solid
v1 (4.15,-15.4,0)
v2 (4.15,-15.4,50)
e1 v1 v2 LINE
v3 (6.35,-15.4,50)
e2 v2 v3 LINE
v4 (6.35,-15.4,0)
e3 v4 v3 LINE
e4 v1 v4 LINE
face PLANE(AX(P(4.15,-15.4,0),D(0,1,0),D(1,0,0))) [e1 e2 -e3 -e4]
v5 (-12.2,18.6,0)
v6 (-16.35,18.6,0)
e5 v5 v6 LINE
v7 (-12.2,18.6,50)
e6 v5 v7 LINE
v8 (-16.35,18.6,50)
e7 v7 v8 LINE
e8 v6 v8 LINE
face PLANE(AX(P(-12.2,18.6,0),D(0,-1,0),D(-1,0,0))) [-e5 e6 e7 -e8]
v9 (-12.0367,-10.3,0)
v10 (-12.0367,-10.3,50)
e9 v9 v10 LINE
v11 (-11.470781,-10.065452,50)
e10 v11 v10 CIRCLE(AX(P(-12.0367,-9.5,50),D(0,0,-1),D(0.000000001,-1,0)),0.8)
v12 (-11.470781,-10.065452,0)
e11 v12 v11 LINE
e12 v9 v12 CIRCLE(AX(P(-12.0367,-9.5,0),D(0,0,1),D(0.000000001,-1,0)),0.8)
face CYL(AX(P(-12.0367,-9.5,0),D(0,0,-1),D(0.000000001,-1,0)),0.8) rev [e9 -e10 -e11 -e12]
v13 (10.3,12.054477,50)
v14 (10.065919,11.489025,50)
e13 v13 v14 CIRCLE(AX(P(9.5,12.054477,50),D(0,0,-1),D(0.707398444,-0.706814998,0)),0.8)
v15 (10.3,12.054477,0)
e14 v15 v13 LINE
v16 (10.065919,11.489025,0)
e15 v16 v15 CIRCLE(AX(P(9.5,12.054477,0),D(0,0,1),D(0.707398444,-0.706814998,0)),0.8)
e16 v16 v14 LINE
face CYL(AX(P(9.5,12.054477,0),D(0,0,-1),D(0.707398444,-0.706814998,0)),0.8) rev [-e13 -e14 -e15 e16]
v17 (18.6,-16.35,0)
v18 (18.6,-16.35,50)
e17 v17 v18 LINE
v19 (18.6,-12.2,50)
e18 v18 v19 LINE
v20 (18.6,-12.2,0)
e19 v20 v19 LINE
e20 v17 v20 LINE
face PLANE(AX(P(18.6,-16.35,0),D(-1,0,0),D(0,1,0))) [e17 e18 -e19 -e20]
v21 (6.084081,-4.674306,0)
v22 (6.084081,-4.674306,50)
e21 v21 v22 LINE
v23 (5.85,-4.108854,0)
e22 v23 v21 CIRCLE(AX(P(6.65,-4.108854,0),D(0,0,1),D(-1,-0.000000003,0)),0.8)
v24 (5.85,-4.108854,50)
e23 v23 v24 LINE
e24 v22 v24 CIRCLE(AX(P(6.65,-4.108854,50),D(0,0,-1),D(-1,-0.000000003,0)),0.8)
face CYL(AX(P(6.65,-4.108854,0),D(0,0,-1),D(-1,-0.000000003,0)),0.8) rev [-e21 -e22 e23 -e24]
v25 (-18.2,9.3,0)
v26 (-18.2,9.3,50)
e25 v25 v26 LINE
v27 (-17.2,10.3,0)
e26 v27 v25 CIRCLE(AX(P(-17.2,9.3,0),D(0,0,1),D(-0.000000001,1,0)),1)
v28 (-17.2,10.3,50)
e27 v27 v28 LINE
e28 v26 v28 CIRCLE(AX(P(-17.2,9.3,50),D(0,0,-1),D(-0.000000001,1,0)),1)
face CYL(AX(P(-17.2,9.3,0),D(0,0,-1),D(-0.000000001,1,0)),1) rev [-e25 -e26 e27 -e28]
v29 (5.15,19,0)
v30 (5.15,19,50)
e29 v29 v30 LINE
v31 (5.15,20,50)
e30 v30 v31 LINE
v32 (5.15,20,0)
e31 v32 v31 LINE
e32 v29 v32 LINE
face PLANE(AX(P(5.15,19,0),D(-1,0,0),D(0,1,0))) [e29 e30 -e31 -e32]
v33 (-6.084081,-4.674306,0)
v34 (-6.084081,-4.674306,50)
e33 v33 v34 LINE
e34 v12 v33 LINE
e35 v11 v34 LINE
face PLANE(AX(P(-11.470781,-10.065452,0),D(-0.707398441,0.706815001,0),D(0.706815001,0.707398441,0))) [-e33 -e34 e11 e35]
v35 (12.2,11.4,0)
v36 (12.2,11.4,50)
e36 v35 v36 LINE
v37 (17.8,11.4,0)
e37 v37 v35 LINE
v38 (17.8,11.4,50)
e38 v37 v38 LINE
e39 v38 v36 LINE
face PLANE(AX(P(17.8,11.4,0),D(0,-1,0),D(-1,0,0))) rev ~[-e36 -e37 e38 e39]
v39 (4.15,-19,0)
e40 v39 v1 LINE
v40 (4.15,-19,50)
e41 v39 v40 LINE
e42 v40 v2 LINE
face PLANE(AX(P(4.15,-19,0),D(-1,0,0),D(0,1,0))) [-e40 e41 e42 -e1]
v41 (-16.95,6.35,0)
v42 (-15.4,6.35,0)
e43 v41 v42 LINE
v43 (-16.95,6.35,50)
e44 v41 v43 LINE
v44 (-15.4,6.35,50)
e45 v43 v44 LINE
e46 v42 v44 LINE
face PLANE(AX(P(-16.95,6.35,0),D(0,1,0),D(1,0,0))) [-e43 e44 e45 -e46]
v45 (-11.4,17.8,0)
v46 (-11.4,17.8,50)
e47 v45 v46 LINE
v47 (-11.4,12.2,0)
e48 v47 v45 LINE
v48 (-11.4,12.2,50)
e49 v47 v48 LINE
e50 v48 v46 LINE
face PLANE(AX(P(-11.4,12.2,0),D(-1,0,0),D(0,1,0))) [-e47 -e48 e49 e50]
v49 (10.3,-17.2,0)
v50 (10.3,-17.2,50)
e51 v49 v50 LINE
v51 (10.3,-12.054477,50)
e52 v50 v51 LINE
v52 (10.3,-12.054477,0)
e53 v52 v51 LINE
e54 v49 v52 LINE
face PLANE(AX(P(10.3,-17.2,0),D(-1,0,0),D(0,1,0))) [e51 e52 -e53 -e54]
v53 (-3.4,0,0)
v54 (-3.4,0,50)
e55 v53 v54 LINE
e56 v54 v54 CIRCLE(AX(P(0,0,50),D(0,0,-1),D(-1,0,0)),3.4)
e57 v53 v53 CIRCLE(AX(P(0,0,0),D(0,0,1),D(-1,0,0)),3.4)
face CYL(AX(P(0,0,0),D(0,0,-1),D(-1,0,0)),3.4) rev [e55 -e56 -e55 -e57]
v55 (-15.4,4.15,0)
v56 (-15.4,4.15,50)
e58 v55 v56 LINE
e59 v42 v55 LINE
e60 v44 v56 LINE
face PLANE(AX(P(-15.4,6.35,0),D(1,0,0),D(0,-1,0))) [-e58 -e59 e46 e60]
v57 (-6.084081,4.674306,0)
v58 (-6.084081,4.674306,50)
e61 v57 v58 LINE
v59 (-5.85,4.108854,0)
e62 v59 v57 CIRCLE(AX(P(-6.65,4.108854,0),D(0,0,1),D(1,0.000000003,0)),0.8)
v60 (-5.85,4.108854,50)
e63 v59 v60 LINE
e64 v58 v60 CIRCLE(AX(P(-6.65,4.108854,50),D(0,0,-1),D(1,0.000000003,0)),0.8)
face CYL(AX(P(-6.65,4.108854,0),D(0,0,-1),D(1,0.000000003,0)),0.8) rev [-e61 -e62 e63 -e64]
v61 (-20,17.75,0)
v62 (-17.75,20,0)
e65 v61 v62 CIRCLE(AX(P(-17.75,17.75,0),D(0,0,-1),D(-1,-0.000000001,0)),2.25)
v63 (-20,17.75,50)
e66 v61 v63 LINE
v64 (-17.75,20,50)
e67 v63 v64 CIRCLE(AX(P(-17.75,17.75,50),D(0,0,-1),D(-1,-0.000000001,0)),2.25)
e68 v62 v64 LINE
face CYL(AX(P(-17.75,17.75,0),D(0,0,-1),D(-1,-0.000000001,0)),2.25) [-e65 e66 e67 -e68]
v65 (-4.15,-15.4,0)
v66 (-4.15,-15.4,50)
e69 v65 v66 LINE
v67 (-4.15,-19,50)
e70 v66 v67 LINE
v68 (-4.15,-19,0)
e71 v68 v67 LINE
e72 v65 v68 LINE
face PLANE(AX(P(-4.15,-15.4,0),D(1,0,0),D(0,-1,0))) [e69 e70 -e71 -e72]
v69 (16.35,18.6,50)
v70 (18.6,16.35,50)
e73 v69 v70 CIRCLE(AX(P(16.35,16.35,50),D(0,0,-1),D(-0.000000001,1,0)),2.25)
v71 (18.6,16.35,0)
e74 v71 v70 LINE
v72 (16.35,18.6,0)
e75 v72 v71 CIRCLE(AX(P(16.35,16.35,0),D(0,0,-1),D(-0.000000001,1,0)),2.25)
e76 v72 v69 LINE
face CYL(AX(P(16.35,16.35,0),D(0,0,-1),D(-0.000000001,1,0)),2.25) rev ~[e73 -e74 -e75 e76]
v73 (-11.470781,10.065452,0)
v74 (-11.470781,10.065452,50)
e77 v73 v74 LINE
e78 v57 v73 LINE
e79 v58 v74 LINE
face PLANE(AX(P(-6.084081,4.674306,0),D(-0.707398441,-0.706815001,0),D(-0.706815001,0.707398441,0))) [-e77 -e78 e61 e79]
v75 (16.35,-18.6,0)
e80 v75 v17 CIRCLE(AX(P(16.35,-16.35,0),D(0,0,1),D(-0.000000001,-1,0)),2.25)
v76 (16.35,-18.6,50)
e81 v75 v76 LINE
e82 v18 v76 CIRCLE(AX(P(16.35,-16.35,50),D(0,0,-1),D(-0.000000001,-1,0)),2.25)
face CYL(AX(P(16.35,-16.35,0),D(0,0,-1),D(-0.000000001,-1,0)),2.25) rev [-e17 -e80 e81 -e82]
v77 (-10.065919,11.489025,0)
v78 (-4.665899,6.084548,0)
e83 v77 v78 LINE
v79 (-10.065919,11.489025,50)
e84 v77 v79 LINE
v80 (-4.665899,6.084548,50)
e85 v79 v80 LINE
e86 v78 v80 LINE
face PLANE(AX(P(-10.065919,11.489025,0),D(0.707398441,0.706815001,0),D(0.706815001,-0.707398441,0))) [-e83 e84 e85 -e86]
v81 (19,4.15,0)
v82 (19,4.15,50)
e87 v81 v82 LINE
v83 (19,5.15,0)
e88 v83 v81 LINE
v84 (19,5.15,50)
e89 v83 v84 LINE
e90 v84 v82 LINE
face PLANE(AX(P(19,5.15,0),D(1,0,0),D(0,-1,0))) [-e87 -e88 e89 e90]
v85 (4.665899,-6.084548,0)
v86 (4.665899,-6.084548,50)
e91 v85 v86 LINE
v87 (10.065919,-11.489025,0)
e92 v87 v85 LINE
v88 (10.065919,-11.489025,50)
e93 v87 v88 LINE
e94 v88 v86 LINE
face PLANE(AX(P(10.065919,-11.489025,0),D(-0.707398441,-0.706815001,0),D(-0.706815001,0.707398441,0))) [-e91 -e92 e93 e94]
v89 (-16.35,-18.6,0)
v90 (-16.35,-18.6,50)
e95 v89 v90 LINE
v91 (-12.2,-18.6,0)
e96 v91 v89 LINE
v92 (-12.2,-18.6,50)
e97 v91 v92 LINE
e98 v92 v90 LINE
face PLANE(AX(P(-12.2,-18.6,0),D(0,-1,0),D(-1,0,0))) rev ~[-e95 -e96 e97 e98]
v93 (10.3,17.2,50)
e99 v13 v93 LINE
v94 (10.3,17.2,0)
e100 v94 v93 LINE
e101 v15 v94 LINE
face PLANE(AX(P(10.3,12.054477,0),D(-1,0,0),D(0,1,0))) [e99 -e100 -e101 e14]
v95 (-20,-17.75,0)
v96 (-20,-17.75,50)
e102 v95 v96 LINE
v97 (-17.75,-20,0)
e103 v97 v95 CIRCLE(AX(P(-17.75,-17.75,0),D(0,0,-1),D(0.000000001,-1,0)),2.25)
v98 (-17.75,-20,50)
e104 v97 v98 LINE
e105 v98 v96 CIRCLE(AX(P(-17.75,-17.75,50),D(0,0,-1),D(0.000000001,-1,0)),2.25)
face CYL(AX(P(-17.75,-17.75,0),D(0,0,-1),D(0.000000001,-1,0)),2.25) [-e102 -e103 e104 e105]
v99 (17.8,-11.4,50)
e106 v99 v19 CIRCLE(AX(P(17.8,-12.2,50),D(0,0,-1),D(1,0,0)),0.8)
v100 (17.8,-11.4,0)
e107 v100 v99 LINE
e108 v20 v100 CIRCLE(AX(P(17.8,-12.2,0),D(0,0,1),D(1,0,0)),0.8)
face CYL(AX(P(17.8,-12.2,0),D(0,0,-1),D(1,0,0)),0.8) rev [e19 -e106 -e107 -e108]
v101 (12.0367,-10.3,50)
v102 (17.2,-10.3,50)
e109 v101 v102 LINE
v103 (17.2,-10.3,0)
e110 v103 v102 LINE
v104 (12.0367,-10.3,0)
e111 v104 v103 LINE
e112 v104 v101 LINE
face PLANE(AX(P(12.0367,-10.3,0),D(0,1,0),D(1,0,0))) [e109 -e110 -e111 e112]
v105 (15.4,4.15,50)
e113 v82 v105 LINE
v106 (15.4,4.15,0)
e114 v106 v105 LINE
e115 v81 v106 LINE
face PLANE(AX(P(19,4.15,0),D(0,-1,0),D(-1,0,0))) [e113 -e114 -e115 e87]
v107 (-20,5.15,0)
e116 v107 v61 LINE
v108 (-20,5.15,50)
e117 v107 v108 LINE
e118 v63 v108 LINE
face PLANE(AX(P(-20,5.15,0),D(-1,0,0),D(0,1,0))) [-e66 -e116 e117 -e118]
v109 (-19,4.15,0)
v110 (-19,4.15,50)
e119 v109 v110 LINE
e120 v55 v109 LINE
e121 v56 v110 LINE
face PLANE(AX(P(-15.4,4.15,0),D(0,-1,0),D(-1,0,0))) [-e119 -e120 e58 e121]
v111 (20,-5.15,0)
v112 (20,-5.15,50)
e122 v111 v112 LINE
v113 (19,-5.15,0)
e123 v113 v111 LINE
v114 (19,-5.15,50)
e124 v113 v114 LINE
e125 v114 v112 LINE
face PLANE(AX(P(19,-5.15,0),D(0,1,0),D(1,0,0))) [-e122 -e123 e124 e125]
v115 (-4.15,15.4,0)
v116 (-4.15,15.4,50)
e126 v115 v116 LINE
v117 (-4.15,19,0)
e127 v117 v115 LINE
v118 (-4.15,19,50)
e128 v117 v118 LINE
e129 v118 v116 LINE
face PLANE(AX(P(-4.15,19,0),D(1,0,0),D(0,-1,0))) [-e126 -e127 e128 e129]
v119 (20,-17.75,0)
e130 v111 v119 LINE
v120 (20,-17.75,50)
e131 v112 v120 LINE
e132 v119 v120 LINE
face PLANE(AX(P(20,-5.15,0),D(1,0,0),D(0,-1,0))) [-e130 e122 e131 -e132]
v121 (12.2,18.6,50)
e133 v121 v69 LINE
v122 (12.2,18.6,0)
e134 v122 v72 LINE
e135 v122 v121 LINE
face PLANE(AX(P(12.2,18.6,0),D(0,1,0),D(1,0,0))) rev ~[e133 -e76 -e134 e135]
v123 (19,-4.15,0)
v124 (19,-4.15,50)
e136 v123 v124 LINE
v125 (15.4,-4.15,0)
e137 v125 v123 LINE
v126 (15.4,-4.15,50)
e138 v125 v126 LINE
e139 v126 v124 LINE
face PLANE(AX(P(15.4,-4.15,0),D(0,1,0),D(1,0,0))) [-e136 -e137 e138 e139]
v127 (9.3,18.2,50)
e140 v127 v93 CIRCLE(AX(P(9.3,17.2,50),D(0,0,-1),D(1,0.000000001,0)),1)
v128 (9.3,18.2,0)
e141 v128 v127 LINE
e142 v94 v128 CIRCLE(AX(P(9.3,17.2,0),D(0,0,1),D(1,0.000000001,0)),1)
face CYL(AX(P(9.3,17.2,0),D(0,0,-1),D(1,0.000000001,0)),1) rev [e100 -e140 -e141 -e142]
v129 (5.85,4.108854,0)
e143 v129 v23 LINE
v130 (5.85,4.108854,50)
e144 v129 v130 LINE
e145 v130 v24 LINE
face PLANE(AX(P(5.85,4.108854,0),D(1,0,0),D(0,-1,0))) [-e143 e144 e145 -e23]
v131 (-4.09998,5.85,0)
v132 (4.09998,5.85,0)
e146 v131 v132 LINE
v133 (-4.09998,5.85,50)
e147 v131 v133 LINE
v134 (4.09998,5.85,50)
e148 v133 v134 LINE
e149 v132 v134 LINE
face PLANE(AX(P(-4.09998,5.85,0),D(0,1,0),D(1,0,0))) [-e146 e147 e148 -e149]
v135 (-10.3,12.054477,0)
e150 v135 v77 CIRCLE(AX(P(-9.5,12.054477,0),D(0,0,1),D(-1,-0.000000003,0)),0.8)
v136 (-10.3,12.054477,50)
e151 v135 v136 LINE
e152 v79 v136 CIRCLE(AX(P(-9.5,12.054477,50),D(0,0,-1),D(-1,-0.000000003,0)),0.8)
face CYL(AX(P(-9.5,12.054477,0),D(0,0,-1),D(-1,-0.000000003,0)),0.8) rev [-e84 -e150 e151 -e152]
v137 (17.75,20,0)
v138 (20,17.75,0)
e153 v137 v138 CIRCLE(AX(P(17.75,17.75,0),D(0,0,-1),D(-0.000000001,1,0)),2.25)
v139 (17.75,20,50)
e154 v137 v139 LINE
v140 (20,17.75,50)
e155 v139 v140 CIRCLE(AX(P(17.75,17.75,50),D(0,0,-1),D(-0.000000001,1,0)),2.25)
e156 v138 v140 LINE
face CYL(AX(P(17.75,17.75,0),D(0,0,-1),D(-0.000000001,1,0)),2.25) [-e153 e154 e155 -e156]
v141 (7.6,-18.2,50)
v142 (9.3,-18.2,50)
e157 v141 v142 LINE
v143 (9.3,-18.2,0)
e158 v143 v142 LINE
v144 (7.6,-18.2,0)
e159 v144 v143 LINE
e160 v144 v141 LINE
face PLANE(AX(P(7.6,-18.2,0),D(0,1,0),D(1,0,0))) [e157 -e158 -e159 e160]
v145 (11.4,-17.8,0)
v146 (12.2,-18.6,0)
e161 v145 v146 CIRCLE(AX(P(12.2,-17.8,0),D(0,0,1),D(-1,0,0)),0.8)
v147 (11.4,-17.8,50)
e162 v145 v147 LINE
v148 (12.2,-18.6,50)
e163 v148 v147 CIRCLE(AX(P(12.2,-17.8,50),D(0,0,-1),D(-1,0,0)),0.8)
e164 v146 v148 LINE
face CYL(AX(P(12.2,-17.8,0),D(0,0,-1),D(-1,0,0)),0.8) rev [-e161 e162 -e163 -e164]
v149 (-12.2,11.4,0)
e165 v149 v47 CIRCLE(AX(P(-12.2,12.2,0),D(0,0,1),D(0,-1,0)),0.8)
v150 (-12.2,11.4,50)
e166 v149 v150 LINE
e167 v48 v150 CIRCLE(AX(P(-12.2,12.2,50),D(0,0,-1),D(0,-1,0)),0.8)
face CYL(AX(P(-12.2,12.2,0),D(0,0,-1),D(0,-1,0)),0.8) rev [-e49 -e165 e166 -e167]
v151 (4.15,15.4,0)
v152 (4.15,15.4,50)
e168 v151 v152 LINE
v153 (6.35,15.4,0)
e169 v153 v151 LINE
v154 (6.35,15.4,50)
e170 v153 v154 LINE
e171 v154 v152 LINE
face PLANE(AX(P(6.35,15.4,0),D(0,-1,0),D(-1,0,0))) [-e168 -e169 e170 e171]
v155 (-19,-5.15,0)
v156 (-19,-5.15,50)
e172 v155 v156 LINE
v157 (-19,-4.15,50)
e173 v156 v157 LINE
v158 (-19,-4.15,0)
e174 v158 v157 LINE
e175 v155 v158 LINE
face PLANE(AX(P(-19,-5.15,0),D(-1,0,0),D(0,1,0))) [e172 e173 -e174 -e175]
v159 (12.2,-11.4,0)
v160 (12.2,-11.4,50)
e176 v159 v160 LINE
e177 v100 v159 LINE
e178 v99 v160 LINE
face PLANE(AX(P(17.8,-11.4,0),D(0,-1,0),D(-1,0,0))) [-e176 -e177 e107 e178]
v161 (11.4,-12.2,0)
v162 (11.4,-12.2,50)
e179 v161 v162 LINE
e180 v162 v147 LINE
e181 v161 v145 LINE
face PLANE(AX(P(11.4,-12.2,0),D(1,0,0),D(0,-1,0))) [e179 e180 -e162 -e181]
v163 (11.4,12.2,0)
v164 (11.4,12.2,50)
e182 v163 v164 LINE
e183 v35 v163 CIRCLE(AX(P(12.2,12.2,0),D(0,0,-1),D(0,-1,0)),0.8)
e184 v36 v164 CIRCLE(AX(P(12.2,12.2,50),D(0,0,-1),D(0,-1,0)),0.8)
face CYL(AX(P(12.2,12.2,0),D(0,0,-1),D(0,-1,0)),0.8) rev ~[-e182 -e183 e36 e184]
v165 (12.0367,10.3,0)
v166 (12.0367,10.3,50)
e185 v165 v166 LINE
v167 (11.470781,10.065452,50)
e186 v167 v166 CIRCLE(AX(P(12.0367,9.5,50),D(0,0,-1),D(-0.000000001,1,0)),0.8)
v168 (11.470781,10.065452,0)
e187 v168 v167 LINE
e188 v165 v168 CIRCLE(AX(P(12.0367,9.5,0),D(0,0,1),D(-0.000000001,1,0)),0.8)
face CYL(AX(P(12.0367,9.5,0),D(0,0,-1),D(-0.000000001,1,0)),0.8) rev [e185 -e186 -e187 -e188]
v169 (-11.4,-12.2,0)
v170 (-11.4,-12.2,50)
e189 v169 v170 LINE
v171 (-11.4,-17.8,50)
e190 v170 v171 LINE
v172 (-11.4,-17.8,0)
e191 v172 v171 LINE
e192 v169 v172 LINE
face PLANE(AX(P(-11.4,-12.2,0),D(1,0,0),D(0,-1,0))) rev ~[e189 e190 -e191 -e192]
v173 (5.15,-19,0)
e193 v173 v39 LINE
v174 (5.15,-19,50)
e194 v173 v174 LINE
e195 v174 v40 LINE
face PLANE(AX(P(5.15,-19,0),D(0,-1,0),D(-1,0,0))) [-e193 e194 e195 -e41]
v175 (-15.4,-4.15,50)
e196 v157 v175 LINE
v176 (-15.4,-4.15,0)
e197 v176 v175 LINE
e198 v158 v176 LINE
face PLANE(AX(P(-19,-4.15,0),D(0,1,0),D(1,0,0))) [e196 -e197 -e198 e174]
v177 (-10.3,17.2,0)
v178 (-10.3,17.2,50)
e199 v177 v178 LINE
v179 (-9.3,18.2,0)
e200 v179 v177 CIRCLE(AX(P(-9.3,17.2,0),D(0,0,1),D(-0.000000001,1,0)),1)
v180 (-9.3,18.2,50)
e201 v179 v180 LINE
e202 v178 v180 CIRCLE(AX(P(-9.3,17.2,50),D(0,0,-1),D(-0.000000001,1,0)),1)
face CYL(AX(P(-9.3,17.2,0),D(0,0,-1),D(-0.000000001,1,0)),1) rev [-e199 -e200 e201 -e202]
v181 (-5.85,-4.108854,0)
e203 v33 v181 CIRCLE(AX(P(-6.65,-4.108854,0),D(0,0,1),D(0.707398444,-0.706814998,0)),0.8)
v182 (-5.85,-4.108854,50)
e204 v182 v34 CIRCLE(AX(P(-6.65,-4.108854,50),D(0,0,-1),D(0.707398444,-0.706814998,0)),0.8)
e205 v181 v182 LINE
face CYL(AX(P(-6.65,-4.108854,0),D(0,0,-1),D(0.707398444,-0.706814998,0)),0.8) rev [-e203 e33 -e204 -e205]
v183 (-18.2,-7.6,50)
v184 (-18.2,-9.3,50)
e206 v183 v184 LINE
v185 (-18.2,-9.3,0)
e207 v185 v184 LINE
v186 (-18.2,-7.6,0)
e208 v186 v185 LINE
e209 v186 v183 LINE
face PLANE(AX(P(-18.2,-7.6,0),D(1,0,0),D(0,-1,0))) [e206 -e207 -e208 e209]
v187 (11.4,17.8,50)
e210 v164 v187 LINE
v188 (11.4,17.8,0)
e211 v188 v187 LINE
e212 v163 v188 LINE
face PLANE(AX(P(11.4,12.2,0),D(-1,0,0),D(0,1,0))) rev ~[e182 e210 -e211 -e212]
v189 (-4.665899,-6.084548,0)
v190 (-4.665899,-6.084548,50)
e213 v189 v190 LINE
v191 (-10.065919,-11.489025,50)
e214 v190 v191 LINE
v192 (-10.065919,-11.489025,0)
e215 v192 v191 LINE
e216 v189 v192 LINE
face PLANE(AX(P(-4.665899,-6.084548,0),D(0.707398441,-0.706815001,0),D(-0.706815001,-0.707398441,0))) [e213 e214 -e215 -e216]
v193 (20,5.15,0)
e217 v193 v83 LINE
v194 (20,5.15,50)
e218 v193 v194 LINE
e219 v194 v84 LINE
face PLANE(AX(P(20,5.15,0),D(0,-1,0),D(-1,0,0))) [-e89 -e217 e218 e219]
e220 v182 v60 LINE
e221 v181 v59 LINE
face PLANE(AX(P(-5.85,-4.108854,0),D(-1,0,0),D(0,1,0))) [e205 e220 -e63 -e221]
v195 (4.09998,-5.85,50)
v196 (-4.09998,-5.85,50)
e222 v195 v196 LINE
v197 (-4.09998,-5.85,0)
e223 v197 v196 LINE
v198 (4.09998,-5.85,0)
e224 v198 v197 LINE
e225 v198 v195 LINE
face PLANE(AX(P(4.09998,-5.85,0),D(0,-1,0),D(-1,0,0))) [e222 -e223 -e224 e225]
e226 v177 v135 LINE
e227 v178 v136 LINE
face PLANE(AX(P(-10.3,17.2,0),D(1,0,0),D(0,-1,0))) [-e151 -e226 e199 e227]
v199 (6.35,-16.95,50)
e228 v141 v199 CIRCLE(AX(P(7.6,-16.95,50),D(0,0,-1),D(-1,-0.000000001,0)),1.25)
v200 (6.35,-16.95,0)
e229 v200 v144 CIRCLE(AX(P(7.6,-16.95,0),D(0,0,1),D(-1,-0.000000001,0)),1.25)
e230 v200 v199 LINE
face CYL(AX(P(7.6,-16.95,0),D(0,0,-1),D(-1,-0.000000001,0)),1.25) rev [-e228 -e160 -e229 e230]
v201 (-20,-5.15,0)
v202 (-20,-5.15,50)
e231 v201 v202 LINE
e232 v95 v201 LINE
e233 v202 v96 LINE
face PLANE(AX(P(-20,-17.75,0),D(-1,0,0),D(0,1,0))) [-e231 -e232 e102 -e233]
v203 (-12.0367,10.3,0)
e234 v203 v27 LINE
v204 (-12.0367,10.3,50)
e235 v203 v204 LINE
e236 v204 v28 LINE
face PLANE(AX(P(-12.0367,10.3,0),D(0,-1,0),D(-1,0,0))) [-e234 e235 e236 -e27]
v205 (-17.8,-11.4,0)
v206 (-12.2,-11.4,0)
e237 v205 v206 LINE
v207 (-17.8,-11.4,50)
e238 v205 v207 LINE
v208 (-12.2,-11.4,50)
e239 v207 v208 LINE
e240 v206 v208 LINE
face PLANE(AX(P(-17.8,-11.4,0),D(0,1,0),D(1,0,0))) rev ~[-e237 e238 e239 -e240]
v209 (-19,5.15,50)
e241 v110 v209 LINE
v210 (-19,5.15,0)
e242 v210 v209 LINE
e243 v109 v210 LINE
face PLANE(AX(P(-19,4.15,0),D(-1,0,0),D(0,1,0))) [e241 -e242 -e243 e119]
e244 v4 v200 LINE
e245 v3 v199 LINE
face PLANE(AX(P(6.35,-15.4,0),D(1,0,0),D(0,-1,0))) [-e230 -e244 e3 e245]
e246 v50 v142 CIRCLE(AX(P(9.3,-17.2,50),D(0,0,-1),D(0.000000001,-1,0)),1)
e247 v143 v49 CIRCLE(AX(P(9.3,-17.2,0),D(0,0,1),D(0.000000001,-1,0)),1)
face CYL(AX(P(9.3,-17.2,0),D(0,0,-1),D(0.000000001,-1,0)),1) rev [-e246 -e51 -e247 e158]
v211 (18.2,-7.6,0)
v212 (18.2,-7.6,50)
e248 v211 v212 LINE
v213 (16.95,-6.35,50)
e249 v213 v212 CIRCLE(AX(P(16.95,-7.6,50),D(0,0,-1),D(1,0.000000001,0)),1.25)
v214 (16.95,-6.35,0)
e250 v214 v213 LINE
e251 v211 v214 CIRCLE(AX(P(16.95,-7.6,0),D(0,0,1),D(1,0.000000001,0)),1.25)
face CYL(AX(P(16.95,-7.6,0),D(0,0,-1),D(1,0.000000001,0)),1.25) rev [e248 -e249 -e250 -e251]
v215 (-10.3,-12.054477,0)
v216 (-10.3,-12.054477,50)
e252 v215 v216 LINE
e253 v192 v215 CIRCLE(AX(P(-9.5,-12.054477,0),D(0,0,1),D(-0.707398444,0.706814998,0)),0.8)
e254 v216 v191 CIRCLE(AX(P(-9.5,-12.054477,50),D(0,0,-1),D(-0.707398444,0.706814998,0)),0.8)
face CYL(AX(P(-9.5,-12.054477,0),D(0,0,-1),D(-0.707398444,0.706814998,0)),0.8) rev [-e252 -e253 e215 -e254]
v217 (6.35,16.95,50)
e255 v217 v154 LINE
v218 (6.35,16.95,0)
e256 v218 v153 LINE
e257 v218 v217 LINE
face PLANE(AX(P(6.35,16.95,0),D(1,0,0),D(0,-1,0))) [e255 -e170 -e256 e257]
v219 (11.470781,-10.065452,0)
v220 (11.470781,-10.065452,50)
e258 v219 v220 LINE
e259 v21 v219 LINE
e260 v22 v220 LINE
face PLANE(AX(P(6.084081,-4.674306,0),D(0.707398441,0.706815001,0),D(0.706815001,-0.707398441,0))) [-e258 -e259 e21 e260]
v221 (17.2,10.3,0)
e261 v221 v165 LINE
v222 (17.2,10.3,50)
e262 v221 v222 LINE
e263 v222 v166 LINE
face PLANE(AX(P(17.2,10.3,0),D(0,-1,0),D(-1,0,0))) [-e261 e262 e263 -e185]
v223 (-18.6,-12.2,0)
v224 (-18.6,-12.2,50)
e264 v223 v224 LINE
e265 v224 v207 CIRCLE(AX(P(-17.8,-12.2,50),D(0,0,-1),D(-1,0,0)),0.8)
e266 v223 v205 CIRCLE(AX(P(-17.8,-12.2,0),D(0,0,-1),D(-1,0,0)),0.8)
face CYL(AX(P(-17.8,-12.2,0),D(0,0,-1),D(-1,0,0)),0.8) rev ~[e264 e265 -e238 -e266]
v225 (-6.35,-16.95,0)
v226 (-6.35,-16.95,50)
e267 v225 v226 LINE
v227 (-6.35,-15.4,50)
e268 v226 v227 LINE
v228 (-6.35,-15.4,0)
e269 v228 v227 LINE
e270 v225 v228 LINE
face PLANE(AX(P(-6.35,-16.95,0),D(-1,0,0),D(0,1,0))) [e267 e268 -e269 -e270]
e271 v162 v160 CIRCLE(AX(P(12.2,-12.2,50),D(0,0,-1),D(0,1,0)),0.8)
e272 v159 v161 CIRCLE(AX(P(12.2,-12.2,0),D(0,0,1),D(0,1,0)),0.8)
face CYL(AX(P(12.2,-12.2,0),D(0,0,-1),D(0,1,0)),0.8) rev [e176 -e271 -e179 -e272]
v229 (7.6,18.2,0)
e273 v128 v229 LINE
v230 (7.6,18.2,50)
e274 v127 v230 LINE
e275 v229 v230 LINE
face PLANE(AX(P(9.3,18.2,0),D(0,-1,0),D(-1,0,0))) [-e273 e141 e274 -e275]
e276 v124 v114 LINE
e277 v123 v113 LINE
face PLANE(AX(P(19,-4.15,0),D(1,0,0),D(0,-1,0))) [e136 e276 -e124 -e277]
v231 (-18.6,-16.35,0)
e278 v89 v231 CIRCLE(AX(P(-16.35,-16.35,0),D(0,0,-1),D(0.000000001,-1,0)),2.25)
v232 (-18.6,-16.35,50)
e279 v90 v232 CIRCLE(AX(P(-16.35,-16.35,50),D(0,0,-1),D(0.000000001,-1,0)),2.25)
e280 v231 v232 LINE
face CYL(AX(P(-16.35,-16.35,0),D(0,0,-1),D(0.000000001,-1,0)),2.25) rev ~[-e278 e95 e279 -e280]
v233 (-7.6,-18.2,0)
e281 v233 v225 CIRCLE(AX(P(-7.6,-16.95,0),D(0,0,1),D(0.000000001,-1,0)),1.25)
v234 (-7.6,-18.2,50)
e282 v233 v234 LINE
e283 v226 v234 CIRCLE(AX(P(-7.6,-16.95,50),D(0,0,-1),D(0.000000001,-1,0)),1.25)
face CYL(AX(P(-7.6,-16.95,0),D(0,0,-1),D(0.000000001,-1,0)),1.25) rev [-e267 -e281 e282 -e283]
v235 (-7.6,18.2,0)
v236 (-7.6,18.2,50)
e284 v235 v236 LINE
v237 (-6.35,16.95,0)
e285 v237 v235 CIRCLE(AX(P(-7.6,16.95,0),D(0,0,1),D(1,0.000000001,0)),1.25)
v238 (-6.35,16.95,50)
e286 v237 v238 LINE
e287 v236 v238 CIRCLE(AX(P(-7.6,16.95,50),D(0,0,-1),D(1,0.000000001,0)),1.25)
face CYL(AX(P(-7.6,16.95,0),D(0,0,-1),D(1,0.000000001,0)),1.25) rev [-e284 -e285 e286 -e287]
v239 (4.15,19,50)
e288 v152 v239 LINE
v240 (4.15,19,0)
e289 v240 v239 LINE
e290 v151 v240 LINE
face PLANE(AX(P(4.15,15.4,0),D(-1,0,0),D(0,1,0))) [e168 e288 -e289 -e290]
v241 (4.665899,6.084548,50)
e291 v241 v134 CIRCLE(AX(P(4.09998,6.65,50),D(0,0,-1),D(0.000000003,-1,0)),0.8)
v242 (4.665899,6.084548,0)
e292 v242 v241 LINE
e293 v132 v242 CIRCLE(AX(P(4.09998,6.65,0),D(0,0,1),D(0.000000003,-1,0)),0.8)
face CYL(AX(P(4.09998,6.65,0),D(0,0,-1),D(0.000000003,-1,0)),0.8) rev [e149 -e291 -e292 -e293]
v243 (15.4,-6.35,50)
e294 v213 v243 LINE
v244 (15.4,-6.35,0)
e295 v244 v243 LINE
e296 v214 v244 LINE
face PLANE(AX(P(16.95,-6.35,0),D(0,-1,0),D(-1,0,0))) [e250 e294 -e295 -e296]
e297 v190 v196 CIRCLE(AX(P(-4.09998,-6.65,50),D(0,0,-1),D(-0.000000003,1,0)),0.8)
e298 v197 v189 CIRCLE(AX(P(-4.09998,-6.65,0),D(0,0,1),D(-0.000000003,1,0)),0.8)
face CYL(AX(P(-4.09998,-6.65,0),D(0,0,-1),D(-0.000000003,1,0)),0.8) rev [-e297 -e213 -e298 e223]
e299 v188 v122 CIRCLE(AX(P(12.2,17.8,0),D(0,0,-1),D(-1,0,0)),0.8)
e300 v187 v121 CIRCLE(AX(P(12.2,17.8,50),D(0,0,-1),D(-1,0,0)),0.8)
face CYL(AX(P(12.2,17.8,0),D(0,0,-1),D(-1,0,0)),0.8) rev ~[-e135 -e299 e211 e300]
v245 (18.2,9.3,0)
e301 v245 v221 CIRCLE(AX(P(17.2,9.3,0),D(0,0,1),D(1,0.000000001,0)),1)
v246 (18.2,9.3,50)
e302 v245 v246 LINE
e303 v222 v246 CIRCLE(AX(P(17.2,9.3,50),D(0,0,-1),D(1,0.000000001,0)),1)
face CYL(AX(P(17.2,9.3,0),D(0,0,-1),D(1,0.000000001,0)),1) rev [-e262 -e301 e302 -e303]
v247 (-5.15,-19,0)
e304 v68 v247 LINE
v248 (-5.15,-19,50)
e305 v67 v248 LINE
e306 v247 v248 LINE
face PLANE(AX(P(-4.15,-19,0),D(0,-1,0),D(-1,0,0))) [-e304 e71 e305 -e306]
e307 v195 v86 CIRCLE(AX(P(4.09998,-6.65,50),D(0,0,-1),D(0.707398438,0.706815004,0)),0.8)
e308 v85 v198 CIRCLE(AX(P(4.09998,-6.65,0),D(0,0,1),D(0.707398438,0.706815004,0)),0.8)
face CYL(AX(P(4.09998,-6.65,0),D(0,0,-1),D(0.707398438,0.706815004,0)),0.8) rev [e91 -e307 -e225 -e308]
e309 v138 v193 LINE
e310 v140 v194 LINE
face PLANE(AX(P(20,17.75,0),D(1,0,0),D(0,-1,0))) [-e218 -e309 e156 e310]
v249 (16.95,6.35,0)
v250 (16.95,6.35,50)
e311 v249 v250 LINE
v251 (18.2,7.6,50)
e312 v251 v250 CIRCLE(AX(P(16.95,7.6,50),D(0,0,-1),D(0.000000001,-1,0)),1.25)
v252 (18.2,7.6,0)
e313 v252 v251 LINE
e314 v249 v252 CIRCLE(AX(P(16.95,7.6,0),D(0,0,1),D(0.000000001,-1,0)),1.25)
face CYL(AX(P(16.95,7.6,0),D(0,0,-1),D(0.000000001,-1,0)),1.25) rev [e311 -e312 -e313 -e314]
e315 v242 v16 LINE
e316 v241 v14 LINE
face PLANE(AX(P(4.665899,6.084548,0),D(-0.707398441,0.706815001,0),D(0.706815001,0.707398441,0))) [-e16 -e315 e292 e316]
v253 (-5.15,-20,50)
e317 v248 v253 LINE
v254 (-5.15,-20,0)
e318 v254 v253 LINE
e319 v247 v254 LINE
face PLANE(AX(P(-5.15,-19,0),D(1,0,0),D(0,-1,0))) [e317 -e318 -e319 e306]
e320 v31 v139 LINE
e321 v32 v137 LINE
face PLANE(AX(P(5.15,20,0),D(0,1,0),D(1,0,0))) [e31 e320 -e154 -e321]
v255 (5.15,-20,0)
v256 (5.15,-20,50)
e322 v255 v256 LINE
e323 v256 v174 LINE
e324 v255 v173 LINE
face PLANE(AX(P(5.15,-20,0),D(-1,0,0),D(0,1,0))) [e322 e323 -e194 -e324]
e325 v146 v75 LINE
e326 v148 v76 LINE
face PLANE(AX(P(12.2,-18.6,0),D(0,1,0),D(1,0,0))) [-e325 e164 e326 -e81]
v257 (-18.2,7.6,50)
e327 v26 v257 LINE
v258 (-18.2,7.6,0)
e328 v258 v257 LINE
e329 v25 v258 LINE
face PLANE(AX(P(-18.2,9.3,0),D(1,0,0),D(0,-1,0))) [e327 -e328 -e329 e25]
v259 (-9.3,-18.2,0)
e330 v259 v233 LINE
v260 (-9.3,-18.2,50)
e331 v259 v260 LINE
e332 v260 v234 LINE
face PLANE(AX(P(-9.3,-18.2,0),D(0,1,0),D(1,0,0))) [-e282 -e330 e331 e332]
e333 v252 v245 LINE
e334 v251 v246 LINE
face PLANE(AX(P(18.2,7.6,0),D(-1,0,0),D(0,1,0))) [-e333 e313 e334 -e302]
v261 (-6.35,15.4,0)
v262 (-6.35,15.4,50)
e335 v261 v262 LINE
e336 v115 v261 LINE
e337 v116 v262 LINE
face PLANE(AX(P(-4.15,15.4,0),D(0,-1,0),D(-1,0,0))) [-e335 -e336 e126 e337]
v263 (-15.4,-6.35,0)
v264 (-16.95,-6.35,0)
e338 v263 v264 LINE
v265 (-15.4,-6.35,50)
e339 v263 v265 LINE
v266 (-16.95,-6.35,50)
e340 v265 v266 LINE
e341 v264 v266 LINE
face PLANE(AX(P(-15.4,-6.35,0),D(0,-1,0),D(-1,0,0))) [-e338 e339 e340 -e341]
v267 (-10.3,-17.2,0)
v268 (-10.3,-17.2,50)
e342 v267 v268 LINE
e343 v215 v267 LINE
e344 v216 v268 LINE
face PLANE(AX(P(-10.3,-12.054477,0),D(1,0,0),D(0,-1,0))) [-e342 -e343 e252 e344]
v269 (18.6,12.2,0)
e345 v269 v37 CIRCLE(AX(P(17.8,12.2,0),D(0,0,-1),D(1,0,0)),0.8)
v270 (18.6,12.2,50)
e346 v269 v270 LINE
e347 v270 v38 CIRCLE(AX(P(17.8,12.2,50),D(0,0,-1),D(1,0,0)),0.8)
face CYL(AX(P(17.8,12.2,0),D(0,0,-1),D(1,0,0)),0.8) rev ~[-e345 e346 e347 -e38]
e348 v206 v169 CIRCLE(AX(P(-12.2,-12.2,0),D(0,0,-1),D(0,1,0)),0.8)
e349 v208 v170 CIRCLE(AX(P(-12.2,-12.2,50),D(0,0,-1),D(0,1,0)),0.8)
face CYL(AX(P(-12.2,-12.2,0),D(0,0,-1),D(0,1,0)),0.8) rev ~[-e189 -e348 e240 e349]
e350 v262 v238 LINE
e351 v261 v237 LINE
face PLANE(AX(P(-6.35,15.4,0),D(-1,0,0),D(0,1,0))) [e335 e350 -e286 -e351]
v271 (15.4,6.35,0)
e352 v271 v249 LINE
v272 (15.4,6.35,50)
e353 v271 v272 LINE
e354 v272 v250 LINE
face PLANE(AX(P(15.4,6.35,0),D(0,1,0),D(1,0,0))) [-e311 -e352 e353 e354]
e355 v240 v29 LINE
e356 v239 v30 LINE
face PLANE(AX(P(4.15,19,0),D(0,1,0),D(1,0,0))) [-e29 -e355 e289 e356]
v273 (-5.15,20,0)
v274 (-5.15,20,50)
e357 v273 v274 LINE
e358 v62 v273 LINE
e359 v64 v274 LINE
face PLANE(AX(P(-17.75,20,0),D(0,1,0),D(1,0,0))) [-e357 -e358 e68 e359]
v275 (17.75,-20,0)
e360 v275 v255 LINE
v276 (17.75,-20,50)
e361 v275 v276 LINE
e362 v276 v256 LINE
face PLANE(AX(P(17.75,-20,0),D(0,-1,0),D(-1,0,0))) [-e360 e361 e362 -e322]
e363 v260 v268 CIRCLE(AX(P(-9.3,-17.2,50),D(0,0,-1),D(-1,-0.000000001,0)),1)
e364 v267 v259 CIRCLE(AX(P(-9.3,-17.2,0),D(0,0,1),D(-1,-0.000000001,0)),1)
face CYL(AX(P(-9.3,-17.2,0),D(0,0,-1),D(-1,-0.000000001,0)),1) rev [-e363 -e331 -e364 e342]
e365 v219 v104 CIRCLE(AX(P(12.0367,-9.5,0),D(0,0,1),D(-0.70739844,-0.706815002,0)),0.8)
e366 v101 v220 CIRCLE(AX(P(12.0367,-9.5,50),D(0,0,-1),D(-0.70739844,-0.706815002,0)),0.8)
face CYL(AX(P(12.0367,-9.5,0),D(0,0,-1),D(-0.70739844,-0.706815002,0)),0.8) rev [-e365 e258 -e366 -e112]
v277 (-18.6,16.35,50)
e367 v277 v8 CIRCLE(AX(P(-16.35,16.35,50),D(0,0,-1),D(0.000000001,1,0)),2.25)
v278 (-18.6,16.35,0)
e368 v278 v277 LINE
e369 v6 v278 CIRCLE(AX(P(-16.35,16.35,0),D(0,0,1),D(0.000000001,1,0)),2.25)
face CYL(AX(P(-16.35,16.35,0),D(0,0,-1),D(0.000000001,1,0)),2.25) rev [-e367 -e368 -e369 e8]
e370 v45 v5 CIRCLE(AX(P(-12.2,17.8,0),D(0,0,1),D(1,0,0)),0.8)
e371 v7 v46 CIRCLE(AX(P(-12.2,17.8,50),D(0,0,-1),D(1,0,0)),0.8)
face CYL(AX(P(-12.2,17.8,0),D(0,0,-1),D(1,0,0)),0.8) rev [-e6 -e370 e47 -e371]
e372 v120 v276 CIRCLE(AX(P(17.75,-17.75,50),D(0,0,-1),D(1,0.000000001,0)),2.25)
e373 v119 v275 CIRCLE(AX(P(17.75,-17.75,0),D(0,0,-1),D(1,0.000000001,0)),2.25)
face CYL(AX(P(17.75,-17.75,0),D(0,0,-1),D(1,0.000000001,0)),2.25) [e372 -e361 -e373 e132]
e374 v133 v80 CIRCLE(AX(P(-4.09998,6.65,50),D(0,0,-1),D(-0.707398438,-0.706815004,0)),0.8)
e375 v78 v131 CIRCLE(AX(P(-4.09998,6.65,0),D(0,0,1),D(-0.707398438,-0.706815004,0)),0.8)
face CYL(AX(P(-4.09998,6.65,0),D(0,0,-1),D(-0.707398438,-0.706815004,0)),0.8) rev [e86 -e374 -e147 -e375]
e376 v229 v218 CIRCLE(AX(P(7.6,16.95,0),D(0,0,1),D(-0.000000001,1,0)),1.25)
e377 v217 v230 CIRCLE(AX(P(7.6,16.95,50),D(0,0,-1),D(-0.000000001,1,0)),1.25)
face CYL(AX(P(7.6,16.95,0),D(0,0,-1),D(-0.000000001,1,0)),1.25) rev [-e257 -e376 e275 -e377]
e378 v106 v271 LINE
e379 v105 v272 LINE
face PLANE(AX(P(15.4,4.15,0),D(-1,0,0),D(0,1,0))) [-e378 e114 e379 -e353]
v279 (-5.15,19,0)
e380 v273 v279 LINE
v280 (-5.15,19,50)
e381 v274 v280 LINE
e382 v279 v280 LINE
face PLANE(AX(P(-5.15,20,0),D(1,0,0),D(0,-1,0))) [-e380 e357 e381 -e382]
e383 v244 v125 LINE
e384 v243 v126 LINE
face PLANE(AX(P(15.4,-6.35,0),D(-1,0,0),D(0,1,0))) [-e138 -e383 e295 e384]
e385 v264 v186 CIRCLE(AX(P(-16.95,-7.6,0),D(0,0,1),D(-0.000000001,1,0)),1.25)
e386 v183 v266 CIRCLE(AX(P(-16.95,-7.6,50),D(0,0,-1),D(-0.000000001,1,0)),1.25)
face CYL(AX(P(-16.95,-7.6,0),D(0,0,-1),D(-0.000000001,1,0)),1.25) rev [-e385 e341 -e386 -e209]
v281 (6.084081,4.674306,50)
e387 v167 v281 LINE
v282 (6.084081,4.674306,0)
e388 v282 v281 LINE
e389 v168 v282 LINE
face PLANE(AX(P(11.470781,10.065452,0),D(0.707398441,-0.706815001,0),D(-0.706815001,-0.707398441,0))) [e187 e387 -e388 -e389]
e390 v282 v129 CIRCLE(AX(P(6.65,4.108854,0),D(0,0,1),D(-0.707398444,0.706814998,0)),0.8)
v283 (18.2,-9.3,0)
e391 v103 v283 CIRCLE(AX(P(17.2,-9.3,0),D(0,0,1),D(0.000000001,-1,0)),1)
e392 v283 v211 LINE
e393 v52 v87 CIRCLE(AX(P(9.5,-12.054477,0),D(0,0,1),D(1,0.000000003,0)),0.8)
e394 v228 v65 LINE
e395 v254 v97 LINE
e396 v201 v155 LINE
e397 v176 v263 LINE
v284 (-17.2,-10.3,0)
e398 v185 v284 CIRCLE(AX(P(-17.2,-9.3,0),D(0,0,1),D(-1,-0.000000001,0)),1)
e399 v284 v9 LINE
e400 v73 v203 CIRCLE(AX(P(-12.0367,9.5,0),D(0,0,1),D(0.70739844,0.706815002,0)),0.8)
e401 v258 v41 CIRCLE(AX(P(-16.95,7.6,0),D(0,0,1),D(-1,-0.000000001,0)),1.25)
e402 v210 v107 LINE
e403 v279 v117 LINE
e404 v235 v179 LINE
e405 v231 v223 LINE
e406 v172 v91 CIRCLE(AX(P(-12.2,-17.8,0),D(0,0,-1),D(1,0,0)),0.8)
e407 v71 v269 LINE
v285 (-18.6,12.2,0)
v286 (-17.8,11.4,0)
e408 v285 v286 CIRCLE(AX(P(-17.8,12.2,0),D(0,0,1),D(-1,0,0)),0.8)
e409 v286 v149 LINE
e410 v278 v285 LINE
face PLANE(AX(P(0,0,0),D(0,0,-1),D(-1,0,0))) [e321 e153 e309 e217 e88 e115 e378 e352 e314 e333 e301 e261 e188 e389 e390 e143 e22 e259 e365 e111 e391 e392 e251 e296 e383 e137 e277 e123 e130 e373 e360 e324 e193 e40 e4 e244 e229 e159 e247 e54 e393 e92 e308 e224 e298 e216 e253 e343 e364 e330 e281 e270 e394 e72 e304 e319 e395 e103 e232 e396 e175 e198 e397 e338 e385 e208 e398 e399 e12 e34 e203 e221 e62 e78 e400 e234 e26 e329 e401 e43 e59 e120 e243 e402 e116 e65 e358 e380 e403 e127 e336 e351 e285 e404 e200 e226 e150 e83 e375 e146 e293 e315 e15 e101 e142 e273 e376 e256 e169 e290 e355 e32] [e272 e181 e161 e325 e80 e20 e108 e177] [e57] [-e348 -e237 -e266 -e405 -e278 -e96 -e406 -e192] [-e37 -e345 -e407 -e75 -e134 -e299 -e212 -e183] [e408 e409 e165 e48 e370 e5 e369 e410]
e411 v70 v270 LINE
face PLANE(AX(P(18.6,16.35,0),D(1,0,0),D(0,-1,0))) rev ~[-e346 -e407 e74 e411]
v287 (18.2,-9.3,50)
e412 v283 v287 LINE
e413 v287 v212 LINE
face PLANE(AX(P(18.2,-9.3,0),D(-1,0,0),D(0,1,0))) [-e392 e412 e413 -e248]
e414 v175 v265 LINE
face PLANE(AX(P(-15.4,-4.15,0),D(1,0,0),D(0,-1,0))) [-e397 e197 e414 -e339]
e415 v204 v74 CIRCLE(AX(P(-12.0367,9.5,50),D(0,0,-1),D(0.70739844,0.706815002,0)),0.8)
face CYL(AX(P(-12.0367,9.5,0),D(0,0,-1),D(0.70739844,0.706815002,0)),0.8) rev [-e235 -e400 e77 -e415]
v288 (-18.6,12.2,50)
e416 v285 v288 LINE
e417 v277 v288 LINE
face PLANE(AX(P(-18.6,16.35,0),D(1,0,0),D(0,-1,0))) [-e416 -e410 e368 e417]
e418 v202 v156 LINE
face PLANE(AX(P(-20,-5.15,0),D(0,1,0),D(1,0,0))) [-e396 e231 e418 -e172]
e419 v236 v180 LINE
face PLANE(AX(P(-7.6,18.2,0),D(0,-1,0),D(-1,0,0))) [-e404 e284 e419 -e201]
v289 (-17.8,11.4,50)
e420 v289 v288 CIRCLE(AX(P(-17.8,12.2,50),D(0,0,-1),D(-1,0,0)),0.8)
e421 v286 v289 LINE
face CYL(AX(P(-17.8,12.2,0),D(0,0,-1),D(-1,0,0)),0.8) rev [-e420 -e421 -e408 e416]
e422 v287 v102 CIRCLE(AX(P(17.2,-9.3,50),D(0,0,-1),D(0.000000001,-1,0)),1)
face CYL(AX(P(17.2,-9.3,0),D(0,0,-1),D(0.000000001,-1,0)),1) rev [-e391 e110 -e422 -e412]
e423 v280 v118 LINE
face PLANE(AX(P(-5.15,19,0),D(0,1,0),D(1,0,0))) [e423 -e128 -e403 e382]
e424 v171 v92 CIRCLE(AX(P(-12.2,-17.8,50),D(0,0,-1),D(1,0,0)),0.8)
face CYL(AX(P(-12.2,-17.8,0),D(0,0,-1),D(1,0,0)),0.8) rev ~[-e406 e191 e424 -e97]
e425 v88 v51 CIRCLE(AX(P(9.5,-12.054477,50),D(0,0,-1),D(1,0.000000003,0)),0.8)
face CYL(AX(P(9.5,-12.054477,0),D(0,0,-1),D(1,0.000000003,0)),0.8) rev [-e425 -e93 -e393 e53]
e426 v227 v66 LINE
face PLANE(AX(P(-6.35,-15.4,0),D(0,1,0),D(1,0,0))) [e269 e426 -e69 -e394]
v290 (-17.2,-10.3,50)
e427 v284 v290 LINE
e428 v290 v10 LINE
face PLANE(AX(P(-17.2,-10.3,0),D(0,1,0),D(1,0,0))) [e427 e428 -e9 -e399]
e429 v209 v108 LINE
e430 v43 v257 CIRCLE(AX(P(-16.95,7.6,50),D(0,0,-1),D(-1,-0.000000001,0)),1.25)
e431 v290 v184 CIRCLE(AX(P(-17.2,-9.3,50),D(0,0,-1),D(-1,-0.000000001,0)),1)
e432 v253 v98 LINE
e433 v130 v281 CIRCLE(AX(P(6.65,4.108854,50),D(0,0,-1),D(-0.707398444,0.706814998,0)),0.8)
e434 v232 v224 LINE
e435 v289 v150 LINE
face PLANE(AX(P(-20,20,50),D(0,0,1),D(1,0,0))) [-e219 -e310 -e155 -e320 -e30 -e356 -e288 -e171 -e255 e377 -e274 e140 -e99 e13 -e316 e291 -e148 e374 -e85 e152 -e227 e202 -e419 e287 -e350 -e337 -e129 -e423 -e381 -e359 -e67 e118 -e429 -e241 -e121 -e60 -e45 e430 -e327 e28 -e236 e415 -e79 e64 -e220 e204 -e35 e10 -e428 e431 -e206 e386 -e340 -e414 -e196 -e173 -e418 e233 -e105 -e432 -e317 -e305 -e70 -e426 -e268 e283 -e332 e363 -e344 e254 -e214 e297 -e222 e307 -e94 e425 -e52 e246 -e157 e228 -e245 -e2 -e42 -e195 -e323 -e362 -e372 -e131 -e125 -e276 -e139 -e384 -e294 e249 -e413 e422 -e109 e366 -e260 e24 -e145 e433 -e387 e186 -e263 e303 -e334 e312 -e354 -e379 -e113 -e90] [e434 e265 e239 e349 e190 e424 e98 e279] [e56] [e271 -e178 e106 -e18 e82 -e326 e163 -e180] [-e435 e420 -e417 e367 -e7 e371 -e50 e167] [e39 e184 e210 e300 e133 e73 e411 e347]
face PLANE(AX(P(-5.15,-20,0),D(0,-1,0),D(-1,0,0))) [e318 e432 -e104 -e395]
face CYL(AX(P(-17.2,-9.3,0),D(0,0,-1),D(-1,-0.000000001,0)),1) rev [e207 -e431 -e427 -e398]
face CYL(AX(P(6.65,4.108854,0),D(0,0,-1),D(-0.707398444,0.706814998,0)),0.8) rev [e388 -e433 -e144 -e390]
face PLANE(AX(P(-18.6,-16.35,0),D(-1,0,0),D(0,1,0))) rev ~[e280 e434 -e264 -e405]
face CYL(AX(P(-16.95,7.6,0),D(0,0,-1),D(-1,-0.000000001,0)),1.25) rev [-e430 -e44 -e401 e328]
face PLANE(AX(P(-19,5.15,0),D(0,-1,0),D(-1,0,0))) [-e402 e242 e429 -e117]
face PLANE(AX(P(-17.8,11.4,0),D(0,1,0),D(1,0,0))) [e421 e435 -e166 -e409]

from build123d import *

# Parameters (mm, degrees)
SKETCH1_R           = 3.4
BOSS_EXTRUDE1_DEPTH = 713
SKETCH2_W           = 40
SKETCH2_H           = 113
CUT_EXTRUDE1_DEPTH  = 715.401147815
SKETCH3_W           = 40
SKETCH3_H           = 550
CUT_EXTRUDE2_DEPTH  = 602.66435826


with BuildPart() as part:
    # Sketch1 → Boss-Extrude1 (new body)
    with BuildSketch(Plane.XY):
        with BuildLine():
            Line((20, 17.75), (20, 5.15))
            Line((20, 5.15), (19, 5.15))
            Line((19, 5.15), (19, 4.15))
            Line((19, 4.15), (15.4, 4.15))
            Line((15.4, 4.15), (15.4, 6.35))
            Line((15.4, 6.35), (16.95, 6.35))
            ThreePointArc((16.95, 6.35), (17.833883476, 6.716116524), (18.2, 7.6))
            Line((18.2, 7.6), (18.2, 9.3))
            ThreePointArc((18.2, 9.3), (17.907106781, 10.007106781), (17.2, 10.3))
            Line((17.2, 10.3), (12.03669957, 10.3))
            ThreePointArc((12.03669957, 10.3), (11.73040037, 10.239040459), (11.470780817, 10.065452001))
            Line((11.470780817, 10.065452001), (6.084081247, 4.674305984))
            ThreePointArc((6.084081247, 4.674305984), (5.910833239, 4.414848262), (5.85, 4.108853983))
            Line((5.85, 4.108853983), (5.85, -4.108853983))
            ThreePointArc((5.85, -4.108853983), (5.910833239, -4.414848262), (6.084081247, -4.674305984))
            Line((6.084081247, -4.674305984), (11.470780817, -10.065452001))
            ThreePointArc((11.470780817, -10.065452001), (11.73040037, -10.239040459), (12.03669957, -10.3))
            Line((12.03669957, -10.3), (17.2, -10.3))
            ThreePointArc((17.2, -10.3), (17.907106781, -10.007106781), (18.2, -9.3))
            Line((18.2, -9.3), (18.2, -7.6))
            ThreePointArc((18.2, -7.6), (17.833883476, -6.716116524), (16.95, -6.35))
            Line((16.95, -6.35), (15.4, -6.35))
            Line((15.4, -6.35), (15.4, -4.15))
            Line((15.4, -4.15), (19, -4.15))
            Line((19, -4.15), (19, -5.15))
            Line((19, -5.15), (20, -5.15))
            Line((20, -5.15), (20, -17.75))
            ThreePointArc((20, -17.75), (19.340990258, -19.340990258), (17.75, -20))
            Line((17.75, -20), (5.15, -20))
            Line((5.15, -20), (5.15, -19))
            Line((5.15, -19), (4.15, -19))
            Line((4.15, -19), (4.15, -15.4))
            Line((4.15, -15.4), (6.35, -15.4))
            Line((6.35, -15.4), (6.35, -16.95))
            ThreePointArc((6.35, -16.95), (6.716116524, -17.833883476), (7.6, -18.2))
            Line((7.6, -18.2), (9.3, -18.2))
            ThreePointArc((9.3, -18.2), (10.007106781, -17.907106781), (10.3, -17.2))
            Line((10.3, -17.2), (10.3, -12.054477022))
            ThreePointArc((10.3, -12.054477022), (10.239166761, -11.748482743), (10.065918753, -11.489025021))
            Line((10.065918753, -11.489025021), (4.665899173, -6.084547999))
            ThreePointArc((4.665899173, -6.084547999), (4.406279619, -5.910959541), (4.09998042, -5.85))
            Line((4.09998042, -5.85), (-4.09998042, -5.85))
            ThreePointArc((-4.09998042, -5.85), (-4.406279619, -5.910959541), (-4.665899173, -6.084547999))
            Line((-4.665899173, -6.084547999), (-10.065918753, -11.489025021))
            ThreePointArc((-10.065918753, -11.489025021), (-10.239166761, -11.748482743), (-10.3, -12.054477022))
            Line((-10.3, -12.054477022), (-10.3, -17.2))
            ThreePointArc((-10.3, -17.2), (-10.007106781, -17.907106781), (-9.3, -18.2))
            Line((-9.3, -18.2), (-7.6, -18.2))
            ThreePointArc((-7.6, -18.2), (-6.716116524, -17.833883476), (-6.35, -16.95))
            Line((-6.35, -16.95), (-6.35, -15.4))
            Line((-6.35, -15.4), (-4.15, -15.4))
            Line((-4.15, -15.4), (-4.15, -19))
            Line((-4.15, -19), (-5.15, -19))
            Line((-5.15, -19), (-5.15, -20))
            Line((-5.15, -20), (-17.75, -20))
            ThreePointArc((-17.75, -20), (-19.340990258, -19.340990258), (-20, -17.75))
            Line((-20, -17.75), (-20, -5.15))
            Line((-20, -5.15), (-19, -5.15))
            Line((-19, -5.15), (-19, -4.15))
            Line((-19, -4.15), (-15.4, -4.15))
            Line((-15.4, -4.15), (-15.4, -6.35))
            Line((-15.4, -6.35), (-16.95, -6.35))
            ThreePointArc((-16.95, -6.35), (-17.833883476, -6.716116524), (-18.2, -7.6))
            Line((-18.2, -7.6), (-18.2, -9.3))
            ThreePointArc((-18.2, -9.3), (-17.907106781, -10.007106781), (-17.2, -10.3))
            Line((-17.2, -10.3), (-12.03669957, -10.3))
            ThreePointArc((-12.03669957, -10.3), (-11.73040037, -10.239040459), (-11.470780817, -10.065452001))
            Line((-11.470780817, -10.065452001), (-6.084081247, -4.674305984))
            ThreePointArc((-6.084081247, -4.674305984), (-5.910833239, -4.414848262), (-5.85, -4.108853983))
            Line((-5.85, -4.108853983), (-5.85, 4.108853983))
            ThreePointArc((-5.85, 4.108853983), (-5.910833239, 4.414848262), (-6.084081247, 4.674305984))
            Line((-6.084081247, 4.674305984), (-11.470780817, 10.065452001))
            ThreePointArc((-11.470780817, 10.065452001), (-11.73040037, 10.239040459), (-12.03669957, 10.3))
            Line((-12.03669957, 10.3), (-17.2, 10.3))
            ThreePointArc((-17.2, 10.3), (-17.907106781, 10.007106781), (-18.2, 9.3))
            Line((-18.2, 9.3), (-18.2, 7.6))
            ThreePointArc((-18.2, 7.6), (-17.833883476, 6.716116524), (-16.95, 6.35))
            Line((-16.95, 6.35), (-15.4, 6.35))
            Line((-15.4, 6.35), (-15.4, 4.15))
            Line((-15.4, 4.15), (-19, 4.15))
            Line((-19, 4.15), (-19, 5.15))
            Line((-19, 5.15), (-20, 5.15))
            Line((-20, 5.15), (-20, 17.75))
            ThreePointArc((-20, 17.75), (-19.340990258, 19.340990258), (-17.75, 20))
            Line((-17.75, 20), (-5.15, 20))
            Line((-5.15, 20), (-5.15, 19))
            Line((-5.15, 19), (-4.15, 19))
            Line((-4.15, 19), (-4.15, 15.4))
            Line((-4.15, 15.4), (-6.35, 15.4))
            Line((-6.35, 15.4), (-6.35, 16.95))
            ThreePointArc((-6.35, 16.95), (-6.716116524, 17.833883476), (-7.6, 18.2))
            Line((-7.6, 18.2), (-9.3, 18.2))
            ThreePointArc((-9.3, 18.2), (-10.007106781, 17.907106781), (-10.3, 17.2))
            Line((-10.3, 17.2), (-10.3, 12.054477022))
            ThreePointArc((-10.3, 12.054477022), (-10.239166761, 11.748482743), (-10.065918753, 11.489025021))
            Line((-10.065918753, 11.489025021), (-4.665899173, 6.084547999))
            ThreePointArc((-4.665899173, 6.084547999), (-4.406279619, 5.910959541), (-4.09998042, 5.85))
            Line((-4.09998042, 5.85), (4.09998042, 5.85))
            ThreePointArc((4.09998042, 5.85), (4.406279619, 5.910959541), (4.665899173, 6.084547999))
            Line((4.665899173, 6.084547999), (10.065918753, 11.489025021))
            ThreePointArc((10.065918753, 11.489025021), (10.239166761, 11.748482743), (10.3, 12.054477022))
            Line((10.3, 12.054477022), (10.3, 17.2))
            ThreePointArc((10.3, 17.2), (10.007106781, 17.907106781), (9.3, 18.2))
            Line((9.3, 18.2), (7.6, 18.2))
            ThreePointArc((7.6, 18.2), (6.716116524, 17.833883476), (6.35, 16.95))
            Line((6.35, 16.95), (6.35, 15.4))
            Line((6.35, 15.4), (4.15, 15.4))
            Line((4.15, 15.4), (4.15, 19))
            Line((4.15, 19), (5.15, 19))
            Line((5.15, 19), (5.15, 20))
            Line((5.15, 20), (17.75, 20))
            ThreePointArc((17.75, 20), (19.340990258, 19.340990258), (20, 17.75))
        make_face()
        with Locations(Location((0, 0, 0), (0, 0, 180))):
            Circle(SKETCH1_R, mode=Mode.SUBTRACT)
        with BuildLine():
            Line((18.6, 16.35), (18.6, 12.2))
            ThreePointArc((18.6, 12.2), (18.365685425, 11.634314575), (17.8, 11.4))
            Line((17.8, 11.4), (12.2, 11.4))
            ThreePointArc((12.2, 11.4), (11.634314575, 11.634314575), (11.4, 12.2))
            Line((11.4, 12.2), (11.4, 17.8))
            ThreePointArc((11.4, 17.8), (11.634314575, 18.365685425), (12.2, 18.6))
            Line((12.2, 18.6), (16.35, 18.6))
            ThreePointArc((16.35, 18.6), (17.940990258, 17.940990258), (18.6, 16.35))
        make_face(mode=Mode.SUBTRACT)
        with BuildLine():
            Line((-12.2, 18.6), (-16.35, 18.6))
            ThreePointArc((-16.35, 18.6), (-17.940990258, 17.940990258), (-18.6, 16.35))
            Line((-18.6, 16.35), (-18.6, 12.2))
            ThreePointArc((-18.6, 12.2), (-18.365685425, 11.634314575), (-17.8, 11.4))
            Line((-17.8, 11.4), (-12.2, 11.4))
            ThreePointArc((-12.2, 11.4), (-11.634314575, 11.634314575), (-11.4, 12.2))
            Line((-11.4, 12.2), (-11.4, 17.8))
            ThreePointArc((-11.4, 17.8), (-11.634314575, 18.365685425), (-12.2, 18.6))
        make_face(mode=Mode.SUBTRACT)
        with BuildLine():
            Line((-18.6, -16.35), (-18.6, -12.2))
            ThreePointArc((-18.6, -12.2), (-18.365685425, -11.634314575), (-17.8, -11.4))
            Line((-17.8, -11.4), (-12.2, -11.4))
            ThreePointArc((-12.2, -11.4), (-11.634314575, -11.634314575), (-11.4, -12.2))
            Line((-11.4, -12.2), (-11.4, -17.8))
            ThreePointArc((-11.4, -17.8), (-11.634314575, -18.365685425), (-12.2, -18.6))
            Line((-12.2, -18.6), (-16.35, -18.6))
            ThreePointArc((-16.35, -18.6), (-17.940990258, -17.940990258), (-18.6, -16.35))
        make_face(mode=Mode.SUBTRACT)
        with BuildLine():
            Line((12.2, -18.6), (16.35, -18.6))
            ThreePointArc((16.35, -18.6), (17.940990258, -17.940990258), (18.6, -16.35))
            Line((18.6, -16.35), (18.6, -12.2))
            ThreePointArc((18.6, -12.2), (18.365685425, -11.634314575), (17.8, -11.4))
            Line((17.8, -11.4), (12.2, -11.4))
            ThreePointArc((12.2, -11.4), (11.634314575, -11.634314575), (11.4, -12.2))
            Line((11.4, -12.2), (11.4, -17.8))
            ThreePointArc((11.4, -17.8), (11.634314575, -18.365685425), (12.2, -18.6))
        make_face(mode=Mode.SUBTRACT)
    extrude(amount=BOSS_EXTRUDE1_DEPTH)

    # Sketch2 → Cut-Extrude1 (cut, through all)
    with BuildSketch(Plane(origin=(0, 20, 0), x_dir=(1, 0, 0), z_dir=(0, 1, 0))):
        with Locations((0, -656.5)):
            Rectangle(SKETCH2_W, SKETCH2_H)
    extrude(amount=-CUT_EXTRUDE1_DEPTH, mode=Mode.SUBTRACT)

    # Sketch3 → Cut-Extrude2 (cut, through all)
    with BuildSketch(Plane(origin=(0, 20, 0), x_dir=(1, 0, 0), z_dir=(0, 1, 0))):
        with Locations((0, -325)):
            Rectangle(SKETCH3_W, SKETCH3_H)
    extrude(amount=-CUT_EXTRUDE2_DEPTH, mode=Mode.SUBTRACT)


solid = part.part
